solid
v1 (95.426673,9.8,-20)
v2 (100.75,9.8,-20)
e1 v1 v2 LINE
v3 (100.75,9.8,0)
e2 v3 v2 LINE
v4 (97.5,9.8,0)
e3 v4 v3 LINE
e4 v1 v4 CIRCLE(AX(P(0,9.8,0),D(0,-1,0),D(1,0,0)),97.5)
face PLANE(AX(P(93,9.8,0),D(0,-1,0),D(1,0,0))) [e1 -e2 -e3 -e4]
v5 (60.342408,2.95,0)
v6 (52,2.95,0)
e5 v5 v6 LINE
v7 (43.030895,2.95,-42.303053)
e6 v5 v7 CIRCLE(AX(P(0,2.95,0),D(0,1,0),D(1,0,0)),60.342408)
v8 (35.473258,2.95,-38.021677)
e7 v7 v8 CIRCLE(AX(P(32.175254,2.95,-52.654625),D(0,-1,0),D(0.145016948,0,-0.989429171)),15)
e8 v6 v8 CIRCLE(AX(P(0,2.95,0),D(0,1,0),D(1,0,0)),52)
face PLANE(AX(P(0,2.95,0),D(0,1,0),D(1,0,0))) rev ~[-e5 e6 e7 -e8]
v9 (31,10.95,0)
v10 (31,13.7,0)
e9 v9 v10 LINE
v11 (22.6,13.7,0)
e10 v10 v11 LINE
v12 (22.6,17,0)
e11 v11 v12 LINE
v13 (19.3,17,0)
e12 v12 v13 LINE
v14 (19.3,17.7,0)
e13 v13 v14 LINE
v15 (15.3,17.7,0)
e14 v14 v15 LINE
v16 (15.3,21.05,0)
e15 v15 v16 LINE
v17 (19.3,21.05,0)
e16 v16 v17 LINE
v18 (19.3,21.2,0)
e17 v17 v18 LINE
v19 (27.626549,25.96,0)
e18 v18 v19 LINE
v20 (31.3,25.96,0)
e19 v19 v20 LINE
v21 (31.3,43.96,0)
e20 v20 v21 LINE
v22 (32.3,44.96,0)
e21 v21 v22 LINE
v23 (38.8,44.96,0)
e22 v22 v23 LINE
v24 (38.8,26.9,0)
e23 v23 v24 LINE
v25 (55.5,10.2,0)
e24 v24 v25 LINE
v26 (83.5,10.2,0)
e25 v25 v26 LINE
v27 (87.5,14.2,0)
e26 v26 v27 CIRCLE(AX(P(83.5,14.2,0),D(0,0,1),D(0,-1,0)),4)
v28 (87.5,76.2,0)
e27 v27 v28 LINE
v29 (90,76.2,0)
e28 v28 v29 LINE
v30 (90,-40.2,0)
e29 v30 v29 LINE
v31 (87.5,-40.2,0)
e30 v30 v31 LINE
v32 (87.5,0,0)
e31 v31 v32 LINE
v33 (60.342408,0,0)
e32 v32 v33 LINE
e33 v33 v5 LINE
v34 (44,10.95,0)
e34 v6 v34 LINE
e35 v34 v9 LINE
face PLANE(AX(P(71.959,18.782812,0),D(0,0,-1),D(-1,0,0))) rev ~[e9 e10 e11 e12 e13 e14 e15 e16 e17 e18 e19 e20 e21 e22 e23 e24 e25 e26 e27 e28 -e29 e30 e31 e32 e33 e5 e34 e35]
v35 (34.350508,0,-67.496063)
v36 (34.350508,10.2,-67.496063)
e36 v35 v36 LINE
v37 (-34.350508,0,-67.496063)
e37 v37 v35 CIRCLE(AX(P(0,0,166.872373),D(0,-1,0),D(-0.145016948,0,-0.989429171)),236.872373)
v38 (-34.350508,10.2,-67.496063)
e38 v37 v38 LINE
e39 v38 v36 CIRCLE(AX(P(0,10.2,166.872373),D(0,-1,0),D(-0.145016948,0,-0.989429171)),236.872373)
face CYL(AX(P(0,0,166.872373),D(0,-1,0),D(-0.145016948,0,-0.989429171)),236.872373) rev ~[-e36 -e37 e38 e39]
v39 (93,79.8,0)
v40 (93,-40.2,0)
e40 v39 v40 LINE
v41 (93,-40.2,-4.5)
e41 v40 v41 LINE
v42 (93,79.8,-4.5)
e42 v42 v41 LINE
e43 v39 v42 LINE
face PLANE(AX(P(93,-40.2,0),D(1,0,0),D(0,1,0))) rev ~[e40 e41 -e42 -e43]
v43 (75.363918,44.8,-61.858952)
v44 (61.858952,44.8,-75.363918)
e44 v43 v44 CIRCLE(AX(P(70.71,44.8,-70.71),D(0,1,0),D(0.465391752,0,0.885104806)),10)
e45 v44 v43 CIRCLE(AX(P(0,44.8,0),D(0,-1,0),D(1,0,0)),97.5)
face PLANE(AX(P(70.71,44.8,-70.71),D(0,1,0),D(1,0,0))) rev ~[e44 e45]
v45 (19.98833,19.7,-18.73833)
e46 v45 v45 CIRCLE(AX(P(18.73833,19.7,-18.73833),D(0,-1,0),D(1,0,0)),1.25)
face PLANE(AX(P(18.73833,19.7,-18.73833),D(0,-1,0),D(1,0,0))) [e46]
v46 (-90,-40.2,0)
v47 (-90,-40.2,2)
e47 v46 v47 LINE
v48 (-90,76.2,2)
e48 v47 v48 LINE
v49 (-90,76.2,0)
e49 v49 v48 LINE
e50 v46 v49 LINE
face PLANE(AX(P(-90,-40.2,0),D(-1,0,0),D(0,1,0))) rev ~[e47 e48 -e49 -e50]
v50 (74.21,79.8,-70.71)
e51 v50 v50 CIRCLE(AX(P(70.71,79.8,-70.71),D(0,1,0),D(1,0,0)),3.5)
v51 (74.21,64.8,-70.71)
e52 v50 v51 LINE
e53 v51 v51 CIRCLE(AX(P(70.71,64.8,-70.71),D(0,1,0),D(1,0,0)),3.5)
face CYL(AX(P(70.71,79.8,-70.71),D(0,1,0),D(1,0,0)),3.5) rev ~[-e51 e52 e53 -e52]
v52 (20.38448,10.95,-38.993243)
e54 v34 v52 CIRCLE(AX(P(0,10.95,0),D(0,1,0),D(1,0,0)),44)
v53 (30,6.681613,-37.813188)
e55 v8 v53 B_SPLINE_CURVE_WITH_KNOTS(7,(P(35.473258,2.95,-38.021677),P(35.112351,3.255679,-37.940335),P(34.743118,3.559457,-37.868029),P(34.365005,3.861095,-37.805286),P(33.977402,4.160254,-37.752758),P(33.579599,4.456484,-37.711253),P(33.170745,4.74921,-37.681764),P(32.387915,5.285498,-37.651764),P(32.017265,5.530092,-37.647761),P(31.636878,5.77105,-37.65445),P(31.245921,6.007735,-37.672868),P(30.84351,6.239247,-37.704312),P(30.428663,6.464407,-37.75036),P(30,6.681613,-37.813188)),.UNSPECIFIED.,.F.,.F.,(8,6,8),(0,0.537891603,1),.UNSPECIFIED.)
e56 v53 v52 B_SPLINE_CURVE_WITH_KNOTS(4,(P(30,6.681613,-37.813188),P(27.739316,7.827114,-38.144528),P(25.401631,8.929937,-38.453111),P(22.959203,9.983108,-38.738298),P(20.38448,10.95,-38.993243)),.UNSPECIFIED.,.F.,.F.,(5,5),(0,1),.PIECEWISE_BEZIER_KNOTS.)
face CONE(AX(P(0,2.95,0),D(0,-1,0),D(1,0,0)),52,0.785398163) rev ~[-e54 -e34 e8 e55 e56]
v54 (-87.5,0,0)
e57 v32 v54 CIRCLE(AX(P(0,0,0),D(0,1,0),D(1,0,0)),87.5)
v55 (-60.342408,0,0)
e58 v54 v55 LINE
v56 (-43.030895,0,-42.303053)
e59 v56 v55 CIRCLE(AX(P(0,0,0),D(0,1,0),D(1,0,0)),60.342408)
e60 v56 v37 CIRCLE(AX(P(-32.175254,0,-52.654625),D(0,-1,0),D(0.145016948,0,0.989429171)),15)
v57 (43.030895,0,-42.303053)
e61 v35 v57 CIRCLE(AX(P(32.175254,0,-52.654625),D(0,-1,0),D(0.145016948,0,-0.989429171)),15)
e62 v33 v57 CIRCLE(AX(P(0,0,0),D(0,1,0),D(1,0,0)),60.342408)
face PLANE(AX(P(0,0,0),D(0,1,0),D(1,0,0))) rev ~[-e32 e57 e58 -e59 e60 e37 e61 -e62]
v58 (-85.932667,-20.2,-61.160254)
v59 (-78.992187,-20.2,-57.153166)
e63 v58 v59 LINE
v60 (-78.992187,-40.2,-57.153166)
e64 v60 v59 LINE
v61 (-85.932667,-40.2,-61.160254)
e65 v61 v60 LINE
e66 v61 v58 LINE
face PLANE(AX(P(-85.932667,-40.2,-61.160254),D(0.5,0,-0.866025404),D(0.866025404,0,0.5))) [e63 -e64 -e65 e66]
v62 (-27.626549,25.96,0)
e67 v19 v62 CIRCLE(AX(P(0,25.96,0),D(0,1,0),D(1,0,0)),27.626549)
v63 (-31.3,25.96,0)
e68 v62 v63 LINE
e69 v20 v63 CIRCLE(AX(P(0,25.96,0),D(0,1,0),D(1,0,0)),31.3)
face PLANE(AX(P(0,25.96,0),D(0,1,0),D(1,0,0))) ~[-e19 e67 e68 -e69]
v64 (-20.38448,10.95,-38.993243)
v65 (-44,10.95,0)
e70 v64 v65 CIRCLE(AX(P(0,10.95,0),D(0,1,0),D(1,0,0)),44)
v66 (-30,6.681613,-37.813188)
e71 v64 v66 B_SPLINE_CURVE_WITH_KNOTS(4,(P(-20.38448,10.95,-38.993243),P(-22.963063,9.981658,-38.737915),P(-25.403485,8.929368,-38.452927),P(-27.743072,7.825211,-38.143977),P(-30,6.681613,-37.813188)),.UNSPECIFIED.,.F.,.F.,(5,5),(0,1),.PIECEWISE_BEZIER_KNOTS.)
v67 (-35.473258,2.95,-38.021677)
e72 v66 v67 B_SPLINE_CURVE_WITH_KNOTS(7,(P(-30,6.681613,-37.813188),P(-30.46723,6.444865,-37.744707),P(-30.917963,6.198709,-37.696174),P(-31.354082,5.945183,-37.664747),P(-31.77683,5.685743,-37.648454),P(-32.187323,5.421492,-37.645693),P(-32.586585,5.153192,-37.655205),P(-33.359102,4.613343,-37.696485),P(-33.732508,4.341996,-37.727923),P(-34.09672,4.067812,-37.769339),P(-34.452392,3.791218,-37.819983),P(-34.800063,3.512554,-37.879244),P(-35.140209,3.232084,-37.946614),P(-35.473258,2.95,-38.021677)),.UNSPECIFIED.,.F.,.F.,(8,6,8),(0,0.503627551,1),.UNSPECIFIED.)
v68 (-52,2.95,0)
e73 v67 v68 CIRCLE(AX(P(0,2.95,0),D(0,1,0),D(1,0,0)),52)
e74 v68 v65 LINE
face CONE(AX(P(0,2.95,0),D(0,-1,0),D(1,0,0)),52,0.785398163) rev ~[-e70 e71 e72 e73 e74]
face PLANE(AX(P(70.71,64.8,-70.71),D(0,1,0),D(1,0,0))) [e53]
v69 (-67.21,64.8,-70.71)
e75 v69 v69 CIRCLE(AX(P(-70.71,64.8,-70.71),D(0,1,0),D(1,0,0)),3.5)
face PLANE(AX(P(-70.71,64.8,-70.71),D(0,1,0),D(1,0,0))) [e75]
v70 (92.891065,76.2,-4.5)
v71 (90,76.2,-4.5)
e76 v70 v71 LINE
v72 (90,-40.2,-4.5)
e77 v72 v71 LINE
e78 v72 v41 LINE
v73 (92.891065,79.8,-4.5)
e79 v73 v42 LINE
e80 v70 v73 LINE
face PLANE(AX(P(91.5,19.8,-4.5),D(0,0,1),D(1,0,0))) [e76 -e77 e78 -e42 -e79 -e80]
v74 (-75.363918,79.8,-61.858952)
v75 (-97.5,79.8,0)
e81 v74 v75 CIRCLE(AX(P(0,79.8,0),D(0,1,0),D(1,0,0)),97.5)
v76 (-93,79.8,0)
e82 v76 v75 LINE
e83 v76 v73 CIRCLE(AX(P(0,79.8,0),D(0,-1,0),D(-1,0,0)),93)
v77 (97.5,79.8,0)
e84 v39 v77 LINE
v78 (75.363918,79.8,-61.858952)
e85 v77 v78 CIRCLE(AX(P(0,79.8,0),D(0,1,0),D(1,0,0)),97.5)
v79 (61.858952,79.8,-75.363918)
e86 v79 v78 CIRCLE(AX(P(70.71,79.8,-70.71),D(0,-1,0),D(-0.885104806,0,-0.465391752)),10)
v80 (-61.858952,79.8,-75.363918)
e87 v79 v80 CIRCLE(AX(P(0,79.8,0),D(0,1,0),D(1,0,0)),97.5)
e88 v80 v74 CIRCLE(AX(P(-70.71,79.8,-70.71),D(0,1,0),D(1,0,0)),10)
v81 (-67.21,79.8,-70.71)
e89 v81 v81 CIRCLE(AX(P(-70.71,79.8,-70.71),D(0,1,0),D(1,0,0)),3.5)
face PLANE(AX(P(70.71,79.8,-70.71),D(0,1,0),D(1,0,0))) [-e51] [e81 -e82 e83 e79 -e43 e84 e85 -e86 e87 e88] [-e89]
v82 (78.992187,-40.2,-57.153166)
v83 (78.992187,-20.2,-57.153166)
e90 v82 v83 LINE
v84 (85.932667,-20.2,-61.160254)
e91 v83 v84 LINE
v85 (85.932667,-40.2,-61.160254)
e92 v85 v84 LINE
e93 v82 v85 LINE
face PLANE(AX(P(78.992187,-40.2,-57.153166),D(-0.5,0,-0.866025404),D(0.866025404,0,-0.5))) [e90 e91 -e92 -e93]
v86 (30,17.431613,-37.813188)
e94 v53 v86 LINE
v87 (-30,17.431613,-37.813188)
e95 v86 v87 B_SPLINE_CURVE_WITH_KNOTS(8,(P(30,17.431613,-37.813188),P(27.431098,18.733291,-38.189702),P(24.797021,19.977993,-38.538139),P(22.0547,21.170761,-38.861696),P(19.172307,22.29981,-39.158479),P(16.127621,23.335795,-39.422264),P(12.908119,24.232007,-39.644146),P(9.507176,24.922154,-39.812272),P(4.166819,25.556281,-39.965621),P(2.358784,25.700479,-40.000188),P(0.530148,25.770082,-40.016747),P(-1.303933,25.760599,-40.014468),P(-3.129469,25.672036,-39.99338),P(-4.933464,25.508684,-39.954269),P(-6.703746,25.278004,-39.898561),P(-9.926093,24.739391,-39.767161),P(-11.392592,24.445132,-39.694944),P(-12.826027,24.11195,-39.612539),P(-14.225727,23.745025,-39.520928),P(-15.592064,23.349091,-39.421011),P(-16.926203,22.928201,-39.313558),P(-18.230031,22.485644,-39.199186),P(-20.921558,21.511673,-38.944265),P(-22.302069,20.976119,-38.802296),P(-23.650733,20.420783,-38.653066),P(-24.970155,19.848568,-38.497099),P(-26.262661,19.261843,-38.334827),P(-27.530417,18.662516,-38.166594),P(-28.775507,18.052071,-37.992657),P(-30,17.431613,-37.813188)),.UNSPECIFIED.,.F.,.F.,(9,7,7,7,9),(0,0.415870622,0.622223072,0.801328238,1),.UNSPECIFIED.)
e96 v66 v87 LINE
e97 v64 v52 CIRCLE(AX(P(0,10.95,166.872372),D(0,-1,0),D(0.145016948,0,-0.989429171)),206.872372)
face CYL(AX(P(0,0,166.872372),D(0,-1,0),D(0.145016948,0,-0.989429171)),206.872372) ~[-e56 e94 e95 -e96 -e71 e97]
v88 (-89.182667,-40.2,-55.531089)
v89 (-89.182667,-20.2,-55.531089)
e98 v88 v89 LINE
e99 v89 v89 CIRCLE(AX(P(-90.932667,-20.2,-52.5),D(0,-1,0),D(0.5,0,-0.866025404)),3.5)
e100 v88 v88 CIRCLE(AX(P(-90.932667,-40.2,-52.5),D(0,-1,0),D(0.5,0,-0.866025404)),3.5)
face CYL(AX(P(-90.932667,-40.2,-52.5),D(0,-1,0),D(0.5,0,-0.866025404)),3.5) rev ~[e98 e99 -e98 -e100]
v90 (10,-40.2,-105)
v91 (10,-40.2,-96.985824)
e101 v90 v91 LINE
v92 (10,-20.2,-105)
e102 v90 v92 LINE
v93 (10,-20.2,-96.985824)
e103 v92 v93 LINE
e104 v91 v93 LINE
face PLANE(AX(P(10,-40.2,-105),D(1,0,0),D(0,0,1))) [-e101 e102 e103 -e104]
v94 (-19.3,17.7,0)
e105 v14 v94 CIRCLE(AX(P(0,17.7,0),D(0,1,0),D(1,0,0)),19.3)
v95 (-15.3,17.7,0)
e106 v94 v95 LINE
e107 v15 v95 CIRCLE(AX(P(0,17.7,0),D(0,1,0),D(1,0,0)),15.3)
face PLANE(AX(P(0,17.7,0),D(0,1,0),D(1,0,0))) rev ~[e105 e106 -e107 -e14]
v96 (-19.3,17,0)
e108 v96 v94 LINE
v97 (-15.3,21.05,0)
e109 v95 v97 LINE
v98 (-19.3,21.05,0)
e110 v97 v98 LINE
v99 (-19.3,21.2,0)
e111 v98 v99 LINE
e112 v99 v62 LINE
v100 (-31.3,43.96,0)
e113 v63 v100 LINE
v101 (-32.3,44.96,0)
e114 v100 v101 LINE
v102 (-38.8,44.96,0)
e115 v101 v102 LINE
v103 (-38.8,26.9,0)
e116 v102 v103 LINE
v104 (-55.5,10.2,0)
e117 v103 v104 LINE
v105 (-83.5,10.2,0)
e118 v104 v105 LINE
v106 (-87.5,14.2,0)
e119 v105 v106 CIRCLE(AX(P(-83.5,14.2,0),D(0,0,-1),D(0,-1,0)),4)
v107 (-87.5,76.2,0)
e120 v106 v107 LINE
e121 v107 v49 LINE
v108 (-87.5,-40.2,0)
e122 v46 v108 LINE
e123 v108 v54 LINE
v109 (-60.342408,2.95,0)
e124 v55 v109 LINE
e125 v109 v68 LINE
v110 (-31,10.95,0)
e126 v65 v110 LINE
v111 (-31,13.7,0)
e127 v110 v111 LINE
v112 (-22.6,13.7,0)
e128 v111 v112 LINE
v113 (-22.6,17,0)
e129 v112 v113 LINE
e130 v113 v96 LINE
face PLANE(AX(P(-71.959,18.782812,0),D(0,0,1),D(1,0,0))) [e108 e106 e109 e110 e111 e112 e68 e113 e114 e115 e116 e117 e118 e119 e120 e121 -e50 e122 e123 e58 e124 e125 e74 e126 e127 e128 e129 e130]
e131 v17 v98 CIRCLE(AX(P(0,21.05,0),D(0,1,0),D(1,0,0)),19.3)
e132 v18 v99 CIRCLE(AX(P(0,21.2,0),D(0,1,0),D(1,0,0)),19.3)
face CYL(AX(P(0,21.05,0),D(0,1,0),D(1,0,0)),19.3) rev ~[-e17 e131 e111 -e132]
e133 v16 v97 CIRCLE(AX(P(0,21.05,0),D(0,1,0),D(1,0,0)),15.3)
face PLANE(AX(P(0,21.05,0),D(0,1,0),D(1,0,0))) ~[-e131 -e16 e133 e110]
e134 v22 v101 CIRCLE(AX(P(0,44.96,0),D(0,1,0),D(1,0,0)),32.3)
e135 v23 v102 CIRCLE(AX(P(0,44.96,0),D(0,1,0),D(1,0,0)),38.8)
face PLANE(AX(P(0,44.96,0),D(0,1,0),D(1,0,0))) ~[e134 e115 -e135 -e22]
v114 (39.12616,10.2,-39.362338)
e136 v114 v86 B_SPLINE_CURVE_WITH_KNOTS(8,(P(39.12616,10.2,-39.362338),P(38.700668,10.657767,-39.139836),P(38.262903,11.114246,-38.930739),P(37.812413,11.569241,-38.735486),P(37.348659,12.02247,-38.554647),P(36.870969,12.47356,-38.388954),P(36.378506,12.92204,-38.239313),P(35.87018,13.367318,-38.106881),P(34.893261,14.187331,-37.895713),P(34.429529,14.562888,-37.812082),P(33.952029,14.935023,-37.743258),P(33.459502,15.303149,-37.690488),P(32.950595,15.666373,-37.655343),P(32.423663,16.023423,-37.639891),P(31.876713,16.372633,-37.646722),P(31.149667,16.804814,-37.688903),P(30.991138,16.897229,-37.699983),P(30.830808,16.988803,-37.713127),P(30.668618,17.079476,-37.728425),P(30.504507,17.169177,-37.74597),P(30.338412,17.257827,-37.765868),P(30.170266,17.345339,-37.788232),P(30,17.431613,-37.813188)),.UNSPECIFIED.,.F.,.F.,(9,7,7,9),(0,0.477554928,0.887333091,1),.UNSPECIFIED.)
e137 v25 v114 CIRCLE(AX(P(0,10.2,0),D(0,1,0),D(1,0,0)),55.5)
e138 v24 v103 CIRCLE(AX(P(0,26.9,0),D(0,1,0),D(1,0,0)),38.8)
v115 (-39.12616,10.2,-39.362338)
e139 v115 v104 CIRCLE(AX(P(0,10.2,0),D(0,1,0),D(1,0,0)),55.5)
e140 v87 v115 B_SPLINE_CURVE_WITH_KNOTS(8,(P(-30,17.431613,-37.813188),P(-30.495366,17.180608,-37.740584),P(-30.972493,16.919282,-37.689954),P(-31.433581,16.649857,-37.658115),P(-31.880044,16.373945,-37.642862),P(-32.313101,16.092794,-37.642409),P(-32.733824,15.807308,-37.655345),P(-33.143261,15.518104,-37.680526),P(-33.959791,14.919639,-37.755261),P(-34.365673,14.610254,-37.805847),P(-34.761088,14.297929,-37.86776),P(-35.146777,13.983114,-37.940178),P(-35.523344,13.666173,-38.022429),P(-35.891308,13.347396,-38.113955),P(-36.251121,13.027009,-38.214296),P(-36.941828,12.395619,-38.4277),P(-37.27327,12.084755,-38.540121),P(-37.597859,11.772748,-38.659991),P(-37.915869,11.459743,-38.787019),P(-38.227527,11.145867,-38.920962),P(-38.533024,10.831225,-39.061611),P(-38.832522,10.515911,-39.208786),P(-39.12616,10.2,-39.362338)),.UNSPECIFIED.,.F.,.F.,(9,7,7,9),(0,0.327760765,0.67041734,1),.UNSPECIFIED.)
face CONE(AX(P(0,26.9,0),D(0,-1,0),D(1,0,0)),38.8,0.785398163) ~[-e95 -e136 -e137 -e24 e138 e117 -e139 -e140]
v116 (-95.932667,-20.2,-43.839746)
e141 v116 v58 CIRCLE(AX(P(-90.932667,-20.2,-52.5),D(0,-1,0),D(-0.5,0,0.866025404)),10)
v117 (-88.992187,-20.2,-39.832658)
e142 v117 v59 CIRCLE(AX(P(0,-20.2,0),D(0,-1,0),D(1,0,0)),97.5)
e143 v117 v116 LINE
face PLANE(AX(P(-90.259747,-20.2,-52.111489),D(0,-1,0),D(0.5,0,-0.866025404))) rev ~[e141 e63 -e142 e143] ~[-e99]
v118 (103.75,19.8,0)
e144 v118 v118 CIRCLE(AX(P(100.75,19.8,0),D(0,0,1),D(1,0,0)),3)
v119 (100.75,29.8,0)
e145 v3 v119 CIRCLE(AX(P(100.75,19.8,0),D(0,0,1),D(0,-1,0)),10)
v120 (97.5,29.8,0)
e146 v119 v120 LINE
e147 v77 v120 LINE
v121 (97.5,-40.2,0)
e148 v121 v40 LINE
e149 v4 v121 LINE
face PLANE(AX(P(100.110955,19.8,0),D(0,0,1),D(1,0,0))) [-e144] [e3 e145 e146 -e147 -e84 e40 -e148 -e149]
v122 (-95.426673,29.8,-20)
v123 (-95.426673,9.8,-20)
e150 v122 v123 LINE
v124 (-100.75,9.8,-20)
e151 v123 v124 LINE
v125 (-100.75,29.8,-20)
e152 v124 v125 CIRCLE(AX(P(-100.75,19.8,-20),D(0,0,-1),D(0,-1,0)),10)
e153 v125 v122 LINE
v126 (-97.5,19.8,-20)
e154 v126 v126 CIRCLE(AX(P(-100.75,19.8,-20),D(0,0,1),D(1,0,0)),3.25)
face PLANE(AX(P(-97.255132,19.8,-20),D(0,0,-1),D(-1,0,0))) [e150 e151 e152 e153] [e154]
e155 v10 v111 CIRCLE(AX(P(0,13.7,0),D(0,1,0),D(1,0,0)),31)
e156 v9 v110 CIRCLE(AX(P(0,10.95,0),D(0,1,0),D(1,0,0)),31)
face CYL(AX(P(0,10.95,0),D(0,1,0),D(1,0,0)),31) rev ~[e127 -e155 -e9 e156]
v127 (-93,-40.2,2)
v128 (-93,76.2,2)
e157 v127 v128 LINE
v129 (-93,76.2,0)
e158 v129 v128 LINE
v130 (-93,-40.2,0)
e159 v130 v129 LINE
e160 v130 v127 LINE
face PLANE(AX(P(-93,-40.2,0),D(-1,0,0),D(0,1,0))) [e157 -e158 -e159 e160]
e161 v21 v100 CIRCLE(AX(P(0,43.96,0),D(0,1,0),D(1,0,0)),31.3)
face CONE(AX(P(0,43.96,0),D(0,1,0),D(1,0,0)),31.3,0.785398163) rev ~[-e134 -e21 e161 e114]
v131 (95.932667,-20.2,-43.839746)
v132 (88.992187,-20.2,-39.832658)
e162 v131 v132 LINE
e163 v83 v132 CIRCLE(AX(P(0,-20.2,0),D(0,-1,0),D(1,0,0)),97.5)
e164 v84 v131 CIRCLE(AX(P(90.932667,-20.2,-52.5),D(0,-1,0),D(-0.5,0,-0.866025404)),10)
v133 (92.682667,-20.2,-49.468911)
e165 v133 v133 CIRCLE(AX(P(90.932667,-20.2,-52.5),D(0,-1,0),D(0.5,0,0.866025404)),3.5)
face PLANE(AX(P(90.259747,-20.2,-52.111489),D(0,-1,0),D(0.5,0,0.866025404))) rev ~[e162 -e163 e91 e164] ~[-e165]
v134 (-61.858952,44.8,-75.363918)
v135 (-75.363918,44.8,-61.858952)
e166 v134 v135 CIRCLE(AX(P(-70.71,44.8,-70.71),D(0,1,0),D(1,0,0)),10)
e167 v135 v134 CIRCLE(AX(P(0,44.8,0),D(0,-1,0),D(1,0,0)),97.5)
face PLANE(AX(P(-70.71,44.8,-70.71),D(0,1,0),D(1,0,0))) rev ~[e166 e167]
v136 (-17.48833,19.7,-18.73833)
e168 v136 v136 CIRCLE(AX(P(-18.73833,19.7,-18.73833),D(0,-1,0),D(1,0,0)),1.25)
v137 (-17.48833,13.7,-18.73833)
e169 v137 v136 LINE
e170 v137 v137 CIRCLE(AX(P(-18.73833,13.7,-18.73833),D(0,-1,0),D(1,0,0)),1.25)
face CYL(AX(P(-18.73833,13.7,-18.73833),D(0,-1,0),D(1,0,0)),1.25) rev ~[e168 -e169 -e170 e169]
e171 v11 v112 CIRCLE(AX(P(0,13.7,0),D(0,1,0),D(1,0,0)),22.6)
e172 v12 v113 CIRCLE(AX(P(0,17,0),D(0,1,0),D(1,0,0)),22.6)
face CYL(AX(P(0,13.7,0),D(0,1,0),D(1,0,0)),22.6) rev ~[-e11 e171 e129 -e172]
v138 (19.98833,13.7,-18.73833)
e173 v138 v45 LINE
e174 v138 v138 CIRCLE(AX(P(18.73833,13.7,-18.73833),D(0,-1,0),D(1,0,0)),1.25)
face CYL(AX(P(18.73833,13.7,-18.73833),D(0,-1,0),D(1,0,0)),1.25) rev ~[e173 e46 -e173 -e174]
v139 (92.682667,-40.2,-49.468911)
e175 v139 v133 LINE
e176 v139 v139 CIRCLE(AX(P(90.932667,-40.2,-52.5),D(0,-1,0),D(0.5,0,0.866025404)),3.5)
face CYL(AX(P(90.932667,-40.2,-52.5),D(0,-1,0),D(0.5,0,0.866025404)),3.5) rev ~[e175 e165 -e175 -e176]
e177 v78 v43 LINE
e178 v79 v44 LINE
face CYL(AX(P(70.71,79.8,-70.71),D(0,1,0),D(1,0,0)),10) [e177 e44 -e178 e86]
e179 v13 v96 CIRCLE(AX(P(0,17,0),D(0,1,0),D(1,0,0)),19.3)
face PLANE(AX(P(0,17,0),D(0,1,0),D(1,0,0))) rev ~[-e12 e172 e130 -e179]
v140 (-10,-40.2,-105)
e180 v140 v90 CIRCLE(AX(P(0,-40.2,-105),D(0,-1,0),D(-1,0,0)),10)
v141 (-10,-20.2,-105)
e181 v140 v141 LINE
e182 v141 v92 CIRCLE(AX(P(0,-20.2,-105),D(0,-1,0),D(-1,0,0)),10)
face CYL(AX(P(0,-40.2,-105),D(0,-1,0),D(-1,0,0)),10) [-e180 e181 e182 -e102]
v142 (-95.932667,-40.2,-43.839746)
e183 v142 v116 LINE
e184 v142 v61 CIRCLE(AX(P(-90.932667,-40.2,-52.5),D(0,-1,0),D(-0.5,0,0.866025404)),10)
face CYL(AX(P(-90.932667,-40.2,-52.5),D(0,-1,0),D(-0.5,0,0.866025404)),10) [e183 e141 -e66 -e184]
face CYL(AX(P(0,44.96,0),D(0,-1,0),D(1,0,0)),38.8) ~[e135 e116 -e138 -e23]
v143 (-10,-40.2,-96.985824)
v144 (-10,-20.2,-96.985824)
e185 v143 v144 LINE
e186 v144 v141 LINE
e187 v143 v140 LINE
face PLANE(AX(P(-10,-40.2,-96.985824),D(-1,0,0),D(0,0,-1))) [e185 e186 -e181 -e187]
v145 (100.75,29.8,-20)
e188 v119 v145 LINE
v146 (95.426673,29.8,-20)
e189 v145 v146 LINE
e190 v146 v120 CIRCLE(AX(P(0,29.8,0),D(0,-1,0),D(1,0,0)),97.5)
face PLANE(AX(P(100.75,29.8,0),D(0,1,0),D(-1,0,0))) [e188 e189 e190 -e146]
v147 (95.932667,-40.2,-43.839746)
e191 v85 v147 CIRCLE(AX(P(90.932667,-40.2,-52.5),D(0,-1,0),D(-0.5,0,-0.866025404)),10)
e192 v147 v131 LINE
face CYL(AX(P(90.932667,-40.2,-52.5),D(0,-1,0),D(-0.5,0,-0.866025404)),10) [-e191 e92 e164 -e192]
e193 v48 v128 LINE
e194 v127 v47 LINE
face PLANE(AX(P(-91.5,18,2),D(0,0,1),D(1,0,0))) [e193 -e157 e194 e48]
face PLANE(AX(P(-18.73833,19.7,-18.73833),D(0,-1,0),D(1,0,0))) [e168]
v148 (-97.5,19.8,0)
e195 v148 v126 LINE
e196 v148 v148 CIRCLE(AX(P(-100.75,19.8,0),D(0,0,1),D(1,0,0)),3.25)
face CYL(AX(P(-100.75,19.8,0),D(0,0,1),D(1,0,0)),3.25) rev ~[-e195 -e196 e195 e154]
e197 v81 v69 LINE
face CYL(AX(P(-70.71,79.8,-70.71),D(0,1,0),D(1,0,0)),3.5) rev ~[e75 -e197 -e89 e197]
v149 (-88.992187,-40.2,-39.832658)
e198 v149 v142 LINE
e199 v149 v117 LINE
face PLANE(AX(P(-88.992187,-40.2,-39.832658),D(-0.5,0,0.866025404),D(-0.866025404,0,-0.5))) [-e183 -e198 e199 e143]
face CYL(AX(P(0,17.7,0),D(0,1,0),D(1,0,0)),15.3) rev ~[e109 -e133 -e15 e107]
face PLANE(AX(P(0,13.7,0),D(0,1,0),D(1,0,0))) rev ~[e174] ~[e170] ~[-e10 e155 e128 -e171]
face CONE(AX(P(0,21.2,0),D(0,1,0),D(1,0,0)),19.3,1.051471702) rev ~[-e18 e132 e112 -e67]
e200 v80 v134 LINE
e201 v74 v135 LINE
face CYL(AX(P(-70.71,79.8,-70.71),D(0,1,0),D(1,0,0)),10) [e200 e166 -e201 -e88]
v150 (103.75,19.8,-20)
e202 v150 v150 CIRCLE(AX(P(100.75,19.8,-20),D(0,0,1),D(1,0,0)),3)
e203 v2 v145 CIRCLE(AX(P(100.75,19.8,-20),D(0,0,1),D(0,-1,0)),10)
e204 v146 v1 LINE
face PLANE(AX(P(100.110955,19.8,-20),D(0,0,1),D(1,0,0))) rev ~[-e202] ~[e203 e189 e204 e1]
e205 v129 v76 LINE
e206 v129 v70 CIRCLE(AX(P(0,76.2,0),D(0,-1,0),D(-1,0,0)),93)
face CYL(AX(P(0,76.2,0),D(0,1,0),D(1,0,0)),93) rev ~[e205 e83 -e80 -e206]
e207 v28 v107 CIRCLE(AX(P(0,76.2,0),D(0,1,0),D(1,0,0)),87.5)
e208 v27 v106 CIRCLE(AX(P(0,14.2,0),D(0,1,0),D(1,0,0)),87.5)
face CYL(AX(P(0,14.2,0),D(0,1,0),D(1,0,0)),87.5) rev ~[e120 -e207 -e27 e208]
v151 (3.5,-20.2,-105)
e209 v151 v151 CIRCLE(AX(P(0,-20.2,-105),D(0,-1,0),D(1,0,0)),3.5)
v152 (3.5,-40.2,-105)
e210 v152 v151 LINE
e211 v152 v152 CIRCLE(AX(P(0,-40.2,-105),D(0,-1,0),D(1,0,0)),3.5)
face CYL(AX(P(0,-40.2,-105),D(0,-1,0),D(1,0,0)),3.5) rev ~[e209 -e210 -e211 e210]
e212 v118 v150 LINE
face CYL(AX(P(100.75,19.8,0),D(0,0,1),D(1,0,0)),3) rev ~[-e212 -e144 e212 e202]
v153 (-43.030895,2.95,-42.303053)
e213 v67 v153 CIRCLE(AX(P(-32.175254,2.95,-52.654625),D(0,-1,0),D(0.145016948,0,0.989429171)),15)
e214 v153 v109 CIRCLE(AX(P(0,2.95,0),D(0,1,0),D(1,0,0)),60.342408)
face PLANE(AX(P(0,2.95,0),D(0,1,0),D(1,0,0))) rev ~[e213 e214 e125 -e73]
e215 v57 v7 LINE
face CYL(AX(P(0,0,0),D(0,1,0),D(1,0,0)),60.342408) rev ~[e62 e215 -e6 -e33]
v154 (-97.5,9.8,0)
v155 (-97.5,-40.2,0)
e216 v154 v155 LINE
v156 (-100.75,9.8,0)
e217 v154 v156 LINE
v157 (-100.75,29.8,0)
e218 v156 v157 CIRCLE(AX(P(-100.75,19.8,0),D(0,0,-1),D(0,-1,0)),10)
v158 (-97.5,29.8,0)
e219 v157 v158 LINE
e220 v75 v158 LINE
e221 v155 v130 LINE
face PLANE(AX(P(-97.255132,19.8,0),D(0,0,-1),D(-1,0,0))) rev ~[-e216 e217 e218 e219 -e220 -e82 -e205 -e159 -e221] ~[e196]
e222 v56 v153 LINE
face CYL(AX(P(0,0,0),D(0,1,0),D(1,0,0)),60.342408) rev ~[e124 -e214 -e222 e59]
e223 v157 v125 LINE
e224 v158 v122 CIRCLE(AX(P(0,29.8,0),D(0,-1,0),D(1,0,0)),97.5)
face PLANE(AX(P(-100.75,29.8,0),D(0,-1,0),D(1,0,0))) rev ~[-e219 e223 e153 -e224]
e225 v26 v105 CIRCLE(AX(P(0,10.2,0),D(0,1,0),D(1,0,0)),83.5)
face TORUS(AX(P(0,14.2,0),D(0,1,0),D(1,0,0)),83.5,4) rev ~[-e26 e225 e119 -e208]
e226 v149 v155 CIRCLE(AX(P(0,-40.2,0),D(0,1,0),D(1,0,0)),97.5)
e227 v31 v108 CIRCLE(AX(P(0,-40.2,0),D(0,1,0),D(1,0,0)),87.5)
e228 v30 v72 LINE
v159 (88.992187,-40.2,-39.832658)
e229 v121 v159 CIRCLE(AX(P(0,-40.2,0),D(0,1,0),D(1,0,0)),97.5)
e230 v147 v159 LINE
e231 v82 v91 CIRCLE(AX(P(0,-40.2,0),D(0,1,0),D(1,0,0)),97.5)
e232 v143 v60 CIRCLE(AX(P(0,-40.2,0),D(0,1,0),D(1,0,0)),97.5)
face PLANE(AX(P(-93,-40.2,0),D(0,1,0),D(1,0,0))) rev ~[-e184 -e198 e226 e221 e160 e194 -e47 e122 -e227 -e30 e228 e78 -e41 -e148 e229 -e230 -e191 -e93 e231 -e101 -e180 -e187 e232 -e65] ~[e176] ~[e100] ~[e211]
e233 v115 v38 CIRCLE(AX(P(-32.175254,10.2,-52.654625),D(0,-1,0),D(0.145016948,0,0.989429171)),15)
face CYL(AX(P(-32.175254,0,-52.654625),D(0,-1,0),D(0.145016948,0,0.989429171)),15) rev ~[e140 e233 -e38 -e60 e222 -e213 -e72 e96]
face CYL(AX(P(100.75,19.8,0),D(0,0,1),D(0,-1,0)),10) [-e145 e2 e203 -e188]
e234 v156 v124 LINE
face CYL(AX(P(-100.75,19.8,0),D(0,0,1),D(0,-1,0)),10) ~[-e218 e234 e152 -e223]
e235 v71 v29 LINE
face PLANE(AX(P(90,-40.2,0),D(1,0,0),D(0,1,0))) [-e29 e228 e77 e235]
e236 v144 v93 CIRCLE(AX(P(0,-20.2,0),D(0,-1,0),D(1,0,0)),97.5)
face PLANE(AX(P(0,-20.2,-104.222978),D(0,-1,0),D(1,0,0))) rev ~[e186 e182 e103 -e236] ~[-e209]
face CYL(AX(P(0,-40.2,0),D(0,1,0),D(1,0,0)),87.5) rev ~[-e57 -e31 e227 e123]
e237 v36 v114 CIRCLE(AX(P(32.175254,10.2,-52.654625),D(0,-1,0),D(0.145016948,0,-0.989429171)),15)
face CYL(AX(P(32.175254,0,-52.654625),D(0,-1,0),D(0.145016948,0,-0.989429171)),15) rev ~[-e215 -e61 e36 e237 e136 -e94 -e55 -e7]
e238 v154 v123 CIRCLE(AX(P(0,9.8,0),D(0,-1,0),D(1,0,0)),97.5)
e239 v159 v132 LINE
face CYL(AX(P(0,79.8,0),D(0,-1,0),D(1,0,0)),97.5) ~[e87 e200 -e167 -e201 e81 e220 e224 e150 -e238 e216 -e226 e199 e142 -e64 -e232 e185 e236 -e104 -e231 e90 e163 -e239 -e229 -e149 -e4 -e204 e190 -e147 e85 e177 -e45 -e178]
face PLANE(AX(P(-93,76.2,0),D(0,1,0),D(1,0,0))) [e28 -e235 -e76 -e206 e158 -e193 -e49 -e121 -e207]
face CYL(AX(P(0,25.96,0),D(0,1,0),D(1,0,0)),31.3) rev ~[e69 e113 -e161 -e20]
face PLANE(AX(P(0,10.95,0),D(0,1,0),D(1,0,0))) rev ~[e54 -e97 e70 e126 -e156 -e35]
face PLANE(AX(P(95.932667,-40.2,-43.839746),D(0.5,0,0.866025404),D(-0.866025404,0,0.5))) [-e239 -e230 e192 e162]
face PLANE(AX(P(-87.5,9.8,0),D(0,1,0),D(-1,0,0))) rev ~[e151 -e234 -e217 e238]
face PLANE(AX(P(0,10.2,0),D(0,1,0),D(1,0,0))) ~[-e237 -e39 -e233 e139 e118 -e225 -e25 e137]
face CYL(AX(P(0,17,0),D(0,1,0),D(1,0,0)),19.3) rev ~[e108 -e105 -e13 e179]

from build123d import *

# Parameters (mm, degrees)
REVOLU_O2_ANGLE          = 180
ESBO_O4_R                = 10
RESSALTO_EXTRUS_O1_DEPTH = 35
RESSALTO_EXTRUS_O2_DEPTH = 20
ESBO_O8_R                = 3.5
CORTE_EXTRUS_O2_DEPTH    = 20
PADR_OCIRCULAR1_COUNT    = 6
ESBO_O6_R                = 3.5
CORTE_EXTRUS_O1_DEPTH    = 15
ESBO_O9_R                = 1.25
CORTE_EXTRUS_O3_DEPTH    = 6
ESBO_O10_W               = 3
ESBO_O10_H               = 120
CORTE_EXTRUS_O4_DEPTH    = 4.5
ESBO_O11_W               = 3
ESBO_O11_H               = 116.4
RESSALTO_EXTRUS_O5_DEPTH = 2
ESBO_O12_R               = 3.25
RESSALTO_EXTRUS_O6_DEPTH = 20
ESBO_O13_R               = 3
RESSALTO_EXTRUS_O7_DEPTH = 20
CORTE_EXTRUS_O5_DEPTH    = 80.8
ESBO_O16_R               = 93
CORTE_EXTRUS_O6_DEPTH    = 10


with BuildPart() as part:
    # Esboço3 → Revolução2 (revolve)
    with BuildSketch(Plane.XY):
        with BuildLine():
            Line((97.5, 79.8), (97.5, 11.304491341))
            Line((97.5, 11.304491341), (97.5, 0))
            Line((97.5, 0), (97.5, -40.2))
            Line((97.5, -40.2), (87.5, -40.2))
            Line((87.5, -40.2), (87.5, 0))
            Line((87.5, 0), (60.342408243, 0))
            Line((60.342408243, 0), (60.342408243, 2.95))
            Line((60.342408243, 2.95), (52, 2.95))
            Line((52, 2.95), (44, 10.95))
            Line((44, 10.95), (31, 10.95))
            Line((31, 10.95), (31, 13.7))
            Line((31, 13.7), (22.6, 13.7))
            Line((22.6, 13.7), (22.6, 17))
            Line((22.6, 17), (19.3, 17))
            Line((19.3, 17), (19.3, 17.7))
            Line((19.3, 17.7), (15.3, 17.7))
            Line((15.3, 17.7), (15.3, 21.05))
            Line((15.3, 21.05), (19.3, 21.05))
            Line((19.3, 21.05), (19.3, 21.2))
            Line((19.3, 21.2), (27.626549127, 25.96))
            Line((27.626549127, 25.96), (31.3, 25.96))
            Line((31.3, 25.96), (31.3, 43.96))
            Line((31.3, 43.96), (32.3, 44.96))
            Line((32.3, 44.96), (38.8, 44.96))
            Line((38.8, 44.96), (38.8, 26.9))
            Line((38.8, 26.9), (55.5, 10.2))
            Line((55.5, 10.2), (83.5, 10.2))
            ThreePointArc((83.5, 10.2), (86.328427125, 11.371572875), (87.5, 14.2))
            Line((87.5, 14.2), (87.5, 76.2))
            Line((87.5, 76.2), (93, 76.2))
            Line((93, 76.2), (93, 79.8))
            Line((93, 79.8), (97.5, 79.8))
        make_face()
    revolve(axis=Axis((0, -3.322055656, 0), (0, 1, 0)), revolution_arc=REVOLU_O2_ANGLE)

    # Esboço4 → Ressalto-extrusão1 (add)
    with BuildSketch(Plane(origin=(0, 79.8, 0), x_dir=(1, 0, 0), z_dir=(0, 1, 0))):
        with Locations((70.71, 70.71)):
            Circle(ESBO_O4_R)
        with Locations((-70.71, 70.71)):
            Circle(ESBO_O4_R)
    extrude(amount=-RESSALTO_EXTRUS_O1_DEPTH)

    # Esboço5 → Ressalto-extrusão2 (add)
    with BuildSketch(Plane.XZ.offset(40.2)):
        with BuildLine():
            Line((10, -105), (10, -96.985823706))
            Line((10, -96.985823706), (-10, -96.985823706))
            Line((-10, -96.985823706), (-10, -105))
            ThreePointArc((-10, -105), (0, -115), (10, -105))
        make_face()
    ressalto_extrus_o2 = extrude(amount=-RESSALTO_EXTRUS_O2_DEPTH)

    # Esboço8 → Corte-extrusão2 (cut)
    with BuildSketch(Plane.XZ.offset(40.2)):
        with Locations((0, -105)):
            Circle(ESBO_O8_R)
    corte_extrus_o2 = extrude(amount=-CORTE_EXTRUS_O2_DEPTH, mode=Mode.SUBTRACT)

    # PadrãoCircular1: Ressalto-extrusão2, Corte-extrusão2 ×6 about axis, 3 skipped
    padr_ocircular1_axis = Axis((0, 0, 0), (0, 1, 0))
    add([ressalto_extrus_o2.rotate(padr_ocircular1_axis, i * 360 / PADR_OCIRCULAR1_COUNT) for i in range(1, PADR_OCIRCULAR1_COUNT) if i not in (2, 3, 4)])
    add([corte_extrus_o2.rotate(padr_ocircular1_axis, i * 360 / PADR_OCIRCULAR1_COUNT) for i in range(1, PADR_OCIRCULAR1_COUNT) if i not in (2, 3, 4)], mode=Mode.SUBTRACT)

    # Esboço6 → Corte-extrusão1 (cut)
    with BuildSketch(Plane(origin=(0, 79.8, 0), x_dir=(1, 0, 0), z_dir=(0, 1, 0))):
        with Locations((70.71, 70.71)):
            Circle(ESBO_O6_R)
        with Locations((-70.71, 70.71)):
            Circle(ESBO_O6_R)
    extrude(amount=-CORTE_EXTRUS_O1_DEPTH, mode=Mode.SUBTRACT)

    # Esboço9 → Corte-extrusão3 (cut)
    with BuildSketch(Plane.XZ.offset(-13.7)):
        with Locations((18.738329701, -18.738329701)):
            Circle(ESBO_O9_R)
        with Locations((-18.738329701, -18.738329701)):
            Circle(ESBO_O9_R)
    extrude(amount=-CORTE_EXTRUS_O3_DEPTH, mode=Mode.SUBTRACT)

    # Esboço10 → Corte-extrusão4 (cut)
    with BuildSketch(Plane.XY):
        with Locations((91.5, 19.8)):
            Rectangle(ESBO_O10_W, ESBO_O10_H)
    extrude(amount=-CORTE_EXTRUS_O4_DEPTH, mode=Mode.SUBTRACT)

    # Esboço11 → Ressalto-extrusão5 (add)
    with BuildSketch(Plane.XY):
        with Locations((-91.5, 18)):
            Rectangle(ESBO_O11_W, ESBO_O11_H)
    extrude(amount=RESSALTO_EXTRUS_O5_DEPTH)

    # Esboço12 → Ressalto-extrusão6 (add)
    with BuildSketch(Plane.XY):
        with BuildLine():
            Line((-100.75, 29.8), (-87.5, 29.8))
            Line((-87.5, 29.8), (-87.5, 9.8))
            Line((-87.5, 9.8), (-100.75, 9.8))
            ThreePointArc((-100.75, 9.8), (-110.75, 19.8), (-100.75, 29.8))
        make_face()
        with Locations((-100.75, 19.8)):
            Circle(ESBO_O12_R, mode=Mode.SUBTRACT)
    extrude(amount=-RESSALTO_EXTRUS_O6_DEPTH)

    # Esboço13 → Ressalto-extrusão7 (add)
    with BuildSketch(Plane.XY):
        with BuildLine():
            Line((100.75, 29.8), (93, 29.8))
            Line((93, 29.8), (93, 9.8))
            Line((93, 9.8), (100.75, 9.8))
            ThreePointArc((100.75, 9.8), (110.75, 19.8), (100.75, 29.8))
        make_face()
        with Locations((100.75, 19.8)):
            Circle(ESBO_O13_R, mode=Mode.SUBTRACT)
    extrude(amount=-RESSALTO_EXTRUS_O7_DEPTH)

    # Esboço14 → Corte-extrusão5 (cut, through all)
    with BuildSketch(Plane(origin=(0, 0, 0), x_dir=(-1, 0, 0), z_dir=(0, -1, 0))):
        with BuildLine():
            ThreePointArc((34.350508428, 67.496062714), (0, 70), (-34.350508428, 67.496062714))
            ThreePointArc((-34.350508428, 67.496062714), (-47.016691783, 50.479370931), (-30, 37.813187576))
            ThreePointArc((-30, 37.813187576), (0, 40), (30, 37.813187576))
            ThreePointArc((30, 37.813187576), (47.016691783, 50.479370931), (34.350508428, 67.496062714))
        make_face()
    extrude(amount=-CORTE_EXTRUS_O5_DEPTH, mode=Mode.SUBTRACT)

    # Esboço16 → Corte-extrusão6 (cut)
    with BuildSketch(Plane(origin=(0, 76.2, 0), x_dir=(1, 0, 0), z_dir=(0, 1, 0))):
        Circle(ESBO_O16_R)
    extrude(amount=CORTE_EXTRUS_O6_DEPTH, mode=Mode.SUBTRACT)


solid = part.part
